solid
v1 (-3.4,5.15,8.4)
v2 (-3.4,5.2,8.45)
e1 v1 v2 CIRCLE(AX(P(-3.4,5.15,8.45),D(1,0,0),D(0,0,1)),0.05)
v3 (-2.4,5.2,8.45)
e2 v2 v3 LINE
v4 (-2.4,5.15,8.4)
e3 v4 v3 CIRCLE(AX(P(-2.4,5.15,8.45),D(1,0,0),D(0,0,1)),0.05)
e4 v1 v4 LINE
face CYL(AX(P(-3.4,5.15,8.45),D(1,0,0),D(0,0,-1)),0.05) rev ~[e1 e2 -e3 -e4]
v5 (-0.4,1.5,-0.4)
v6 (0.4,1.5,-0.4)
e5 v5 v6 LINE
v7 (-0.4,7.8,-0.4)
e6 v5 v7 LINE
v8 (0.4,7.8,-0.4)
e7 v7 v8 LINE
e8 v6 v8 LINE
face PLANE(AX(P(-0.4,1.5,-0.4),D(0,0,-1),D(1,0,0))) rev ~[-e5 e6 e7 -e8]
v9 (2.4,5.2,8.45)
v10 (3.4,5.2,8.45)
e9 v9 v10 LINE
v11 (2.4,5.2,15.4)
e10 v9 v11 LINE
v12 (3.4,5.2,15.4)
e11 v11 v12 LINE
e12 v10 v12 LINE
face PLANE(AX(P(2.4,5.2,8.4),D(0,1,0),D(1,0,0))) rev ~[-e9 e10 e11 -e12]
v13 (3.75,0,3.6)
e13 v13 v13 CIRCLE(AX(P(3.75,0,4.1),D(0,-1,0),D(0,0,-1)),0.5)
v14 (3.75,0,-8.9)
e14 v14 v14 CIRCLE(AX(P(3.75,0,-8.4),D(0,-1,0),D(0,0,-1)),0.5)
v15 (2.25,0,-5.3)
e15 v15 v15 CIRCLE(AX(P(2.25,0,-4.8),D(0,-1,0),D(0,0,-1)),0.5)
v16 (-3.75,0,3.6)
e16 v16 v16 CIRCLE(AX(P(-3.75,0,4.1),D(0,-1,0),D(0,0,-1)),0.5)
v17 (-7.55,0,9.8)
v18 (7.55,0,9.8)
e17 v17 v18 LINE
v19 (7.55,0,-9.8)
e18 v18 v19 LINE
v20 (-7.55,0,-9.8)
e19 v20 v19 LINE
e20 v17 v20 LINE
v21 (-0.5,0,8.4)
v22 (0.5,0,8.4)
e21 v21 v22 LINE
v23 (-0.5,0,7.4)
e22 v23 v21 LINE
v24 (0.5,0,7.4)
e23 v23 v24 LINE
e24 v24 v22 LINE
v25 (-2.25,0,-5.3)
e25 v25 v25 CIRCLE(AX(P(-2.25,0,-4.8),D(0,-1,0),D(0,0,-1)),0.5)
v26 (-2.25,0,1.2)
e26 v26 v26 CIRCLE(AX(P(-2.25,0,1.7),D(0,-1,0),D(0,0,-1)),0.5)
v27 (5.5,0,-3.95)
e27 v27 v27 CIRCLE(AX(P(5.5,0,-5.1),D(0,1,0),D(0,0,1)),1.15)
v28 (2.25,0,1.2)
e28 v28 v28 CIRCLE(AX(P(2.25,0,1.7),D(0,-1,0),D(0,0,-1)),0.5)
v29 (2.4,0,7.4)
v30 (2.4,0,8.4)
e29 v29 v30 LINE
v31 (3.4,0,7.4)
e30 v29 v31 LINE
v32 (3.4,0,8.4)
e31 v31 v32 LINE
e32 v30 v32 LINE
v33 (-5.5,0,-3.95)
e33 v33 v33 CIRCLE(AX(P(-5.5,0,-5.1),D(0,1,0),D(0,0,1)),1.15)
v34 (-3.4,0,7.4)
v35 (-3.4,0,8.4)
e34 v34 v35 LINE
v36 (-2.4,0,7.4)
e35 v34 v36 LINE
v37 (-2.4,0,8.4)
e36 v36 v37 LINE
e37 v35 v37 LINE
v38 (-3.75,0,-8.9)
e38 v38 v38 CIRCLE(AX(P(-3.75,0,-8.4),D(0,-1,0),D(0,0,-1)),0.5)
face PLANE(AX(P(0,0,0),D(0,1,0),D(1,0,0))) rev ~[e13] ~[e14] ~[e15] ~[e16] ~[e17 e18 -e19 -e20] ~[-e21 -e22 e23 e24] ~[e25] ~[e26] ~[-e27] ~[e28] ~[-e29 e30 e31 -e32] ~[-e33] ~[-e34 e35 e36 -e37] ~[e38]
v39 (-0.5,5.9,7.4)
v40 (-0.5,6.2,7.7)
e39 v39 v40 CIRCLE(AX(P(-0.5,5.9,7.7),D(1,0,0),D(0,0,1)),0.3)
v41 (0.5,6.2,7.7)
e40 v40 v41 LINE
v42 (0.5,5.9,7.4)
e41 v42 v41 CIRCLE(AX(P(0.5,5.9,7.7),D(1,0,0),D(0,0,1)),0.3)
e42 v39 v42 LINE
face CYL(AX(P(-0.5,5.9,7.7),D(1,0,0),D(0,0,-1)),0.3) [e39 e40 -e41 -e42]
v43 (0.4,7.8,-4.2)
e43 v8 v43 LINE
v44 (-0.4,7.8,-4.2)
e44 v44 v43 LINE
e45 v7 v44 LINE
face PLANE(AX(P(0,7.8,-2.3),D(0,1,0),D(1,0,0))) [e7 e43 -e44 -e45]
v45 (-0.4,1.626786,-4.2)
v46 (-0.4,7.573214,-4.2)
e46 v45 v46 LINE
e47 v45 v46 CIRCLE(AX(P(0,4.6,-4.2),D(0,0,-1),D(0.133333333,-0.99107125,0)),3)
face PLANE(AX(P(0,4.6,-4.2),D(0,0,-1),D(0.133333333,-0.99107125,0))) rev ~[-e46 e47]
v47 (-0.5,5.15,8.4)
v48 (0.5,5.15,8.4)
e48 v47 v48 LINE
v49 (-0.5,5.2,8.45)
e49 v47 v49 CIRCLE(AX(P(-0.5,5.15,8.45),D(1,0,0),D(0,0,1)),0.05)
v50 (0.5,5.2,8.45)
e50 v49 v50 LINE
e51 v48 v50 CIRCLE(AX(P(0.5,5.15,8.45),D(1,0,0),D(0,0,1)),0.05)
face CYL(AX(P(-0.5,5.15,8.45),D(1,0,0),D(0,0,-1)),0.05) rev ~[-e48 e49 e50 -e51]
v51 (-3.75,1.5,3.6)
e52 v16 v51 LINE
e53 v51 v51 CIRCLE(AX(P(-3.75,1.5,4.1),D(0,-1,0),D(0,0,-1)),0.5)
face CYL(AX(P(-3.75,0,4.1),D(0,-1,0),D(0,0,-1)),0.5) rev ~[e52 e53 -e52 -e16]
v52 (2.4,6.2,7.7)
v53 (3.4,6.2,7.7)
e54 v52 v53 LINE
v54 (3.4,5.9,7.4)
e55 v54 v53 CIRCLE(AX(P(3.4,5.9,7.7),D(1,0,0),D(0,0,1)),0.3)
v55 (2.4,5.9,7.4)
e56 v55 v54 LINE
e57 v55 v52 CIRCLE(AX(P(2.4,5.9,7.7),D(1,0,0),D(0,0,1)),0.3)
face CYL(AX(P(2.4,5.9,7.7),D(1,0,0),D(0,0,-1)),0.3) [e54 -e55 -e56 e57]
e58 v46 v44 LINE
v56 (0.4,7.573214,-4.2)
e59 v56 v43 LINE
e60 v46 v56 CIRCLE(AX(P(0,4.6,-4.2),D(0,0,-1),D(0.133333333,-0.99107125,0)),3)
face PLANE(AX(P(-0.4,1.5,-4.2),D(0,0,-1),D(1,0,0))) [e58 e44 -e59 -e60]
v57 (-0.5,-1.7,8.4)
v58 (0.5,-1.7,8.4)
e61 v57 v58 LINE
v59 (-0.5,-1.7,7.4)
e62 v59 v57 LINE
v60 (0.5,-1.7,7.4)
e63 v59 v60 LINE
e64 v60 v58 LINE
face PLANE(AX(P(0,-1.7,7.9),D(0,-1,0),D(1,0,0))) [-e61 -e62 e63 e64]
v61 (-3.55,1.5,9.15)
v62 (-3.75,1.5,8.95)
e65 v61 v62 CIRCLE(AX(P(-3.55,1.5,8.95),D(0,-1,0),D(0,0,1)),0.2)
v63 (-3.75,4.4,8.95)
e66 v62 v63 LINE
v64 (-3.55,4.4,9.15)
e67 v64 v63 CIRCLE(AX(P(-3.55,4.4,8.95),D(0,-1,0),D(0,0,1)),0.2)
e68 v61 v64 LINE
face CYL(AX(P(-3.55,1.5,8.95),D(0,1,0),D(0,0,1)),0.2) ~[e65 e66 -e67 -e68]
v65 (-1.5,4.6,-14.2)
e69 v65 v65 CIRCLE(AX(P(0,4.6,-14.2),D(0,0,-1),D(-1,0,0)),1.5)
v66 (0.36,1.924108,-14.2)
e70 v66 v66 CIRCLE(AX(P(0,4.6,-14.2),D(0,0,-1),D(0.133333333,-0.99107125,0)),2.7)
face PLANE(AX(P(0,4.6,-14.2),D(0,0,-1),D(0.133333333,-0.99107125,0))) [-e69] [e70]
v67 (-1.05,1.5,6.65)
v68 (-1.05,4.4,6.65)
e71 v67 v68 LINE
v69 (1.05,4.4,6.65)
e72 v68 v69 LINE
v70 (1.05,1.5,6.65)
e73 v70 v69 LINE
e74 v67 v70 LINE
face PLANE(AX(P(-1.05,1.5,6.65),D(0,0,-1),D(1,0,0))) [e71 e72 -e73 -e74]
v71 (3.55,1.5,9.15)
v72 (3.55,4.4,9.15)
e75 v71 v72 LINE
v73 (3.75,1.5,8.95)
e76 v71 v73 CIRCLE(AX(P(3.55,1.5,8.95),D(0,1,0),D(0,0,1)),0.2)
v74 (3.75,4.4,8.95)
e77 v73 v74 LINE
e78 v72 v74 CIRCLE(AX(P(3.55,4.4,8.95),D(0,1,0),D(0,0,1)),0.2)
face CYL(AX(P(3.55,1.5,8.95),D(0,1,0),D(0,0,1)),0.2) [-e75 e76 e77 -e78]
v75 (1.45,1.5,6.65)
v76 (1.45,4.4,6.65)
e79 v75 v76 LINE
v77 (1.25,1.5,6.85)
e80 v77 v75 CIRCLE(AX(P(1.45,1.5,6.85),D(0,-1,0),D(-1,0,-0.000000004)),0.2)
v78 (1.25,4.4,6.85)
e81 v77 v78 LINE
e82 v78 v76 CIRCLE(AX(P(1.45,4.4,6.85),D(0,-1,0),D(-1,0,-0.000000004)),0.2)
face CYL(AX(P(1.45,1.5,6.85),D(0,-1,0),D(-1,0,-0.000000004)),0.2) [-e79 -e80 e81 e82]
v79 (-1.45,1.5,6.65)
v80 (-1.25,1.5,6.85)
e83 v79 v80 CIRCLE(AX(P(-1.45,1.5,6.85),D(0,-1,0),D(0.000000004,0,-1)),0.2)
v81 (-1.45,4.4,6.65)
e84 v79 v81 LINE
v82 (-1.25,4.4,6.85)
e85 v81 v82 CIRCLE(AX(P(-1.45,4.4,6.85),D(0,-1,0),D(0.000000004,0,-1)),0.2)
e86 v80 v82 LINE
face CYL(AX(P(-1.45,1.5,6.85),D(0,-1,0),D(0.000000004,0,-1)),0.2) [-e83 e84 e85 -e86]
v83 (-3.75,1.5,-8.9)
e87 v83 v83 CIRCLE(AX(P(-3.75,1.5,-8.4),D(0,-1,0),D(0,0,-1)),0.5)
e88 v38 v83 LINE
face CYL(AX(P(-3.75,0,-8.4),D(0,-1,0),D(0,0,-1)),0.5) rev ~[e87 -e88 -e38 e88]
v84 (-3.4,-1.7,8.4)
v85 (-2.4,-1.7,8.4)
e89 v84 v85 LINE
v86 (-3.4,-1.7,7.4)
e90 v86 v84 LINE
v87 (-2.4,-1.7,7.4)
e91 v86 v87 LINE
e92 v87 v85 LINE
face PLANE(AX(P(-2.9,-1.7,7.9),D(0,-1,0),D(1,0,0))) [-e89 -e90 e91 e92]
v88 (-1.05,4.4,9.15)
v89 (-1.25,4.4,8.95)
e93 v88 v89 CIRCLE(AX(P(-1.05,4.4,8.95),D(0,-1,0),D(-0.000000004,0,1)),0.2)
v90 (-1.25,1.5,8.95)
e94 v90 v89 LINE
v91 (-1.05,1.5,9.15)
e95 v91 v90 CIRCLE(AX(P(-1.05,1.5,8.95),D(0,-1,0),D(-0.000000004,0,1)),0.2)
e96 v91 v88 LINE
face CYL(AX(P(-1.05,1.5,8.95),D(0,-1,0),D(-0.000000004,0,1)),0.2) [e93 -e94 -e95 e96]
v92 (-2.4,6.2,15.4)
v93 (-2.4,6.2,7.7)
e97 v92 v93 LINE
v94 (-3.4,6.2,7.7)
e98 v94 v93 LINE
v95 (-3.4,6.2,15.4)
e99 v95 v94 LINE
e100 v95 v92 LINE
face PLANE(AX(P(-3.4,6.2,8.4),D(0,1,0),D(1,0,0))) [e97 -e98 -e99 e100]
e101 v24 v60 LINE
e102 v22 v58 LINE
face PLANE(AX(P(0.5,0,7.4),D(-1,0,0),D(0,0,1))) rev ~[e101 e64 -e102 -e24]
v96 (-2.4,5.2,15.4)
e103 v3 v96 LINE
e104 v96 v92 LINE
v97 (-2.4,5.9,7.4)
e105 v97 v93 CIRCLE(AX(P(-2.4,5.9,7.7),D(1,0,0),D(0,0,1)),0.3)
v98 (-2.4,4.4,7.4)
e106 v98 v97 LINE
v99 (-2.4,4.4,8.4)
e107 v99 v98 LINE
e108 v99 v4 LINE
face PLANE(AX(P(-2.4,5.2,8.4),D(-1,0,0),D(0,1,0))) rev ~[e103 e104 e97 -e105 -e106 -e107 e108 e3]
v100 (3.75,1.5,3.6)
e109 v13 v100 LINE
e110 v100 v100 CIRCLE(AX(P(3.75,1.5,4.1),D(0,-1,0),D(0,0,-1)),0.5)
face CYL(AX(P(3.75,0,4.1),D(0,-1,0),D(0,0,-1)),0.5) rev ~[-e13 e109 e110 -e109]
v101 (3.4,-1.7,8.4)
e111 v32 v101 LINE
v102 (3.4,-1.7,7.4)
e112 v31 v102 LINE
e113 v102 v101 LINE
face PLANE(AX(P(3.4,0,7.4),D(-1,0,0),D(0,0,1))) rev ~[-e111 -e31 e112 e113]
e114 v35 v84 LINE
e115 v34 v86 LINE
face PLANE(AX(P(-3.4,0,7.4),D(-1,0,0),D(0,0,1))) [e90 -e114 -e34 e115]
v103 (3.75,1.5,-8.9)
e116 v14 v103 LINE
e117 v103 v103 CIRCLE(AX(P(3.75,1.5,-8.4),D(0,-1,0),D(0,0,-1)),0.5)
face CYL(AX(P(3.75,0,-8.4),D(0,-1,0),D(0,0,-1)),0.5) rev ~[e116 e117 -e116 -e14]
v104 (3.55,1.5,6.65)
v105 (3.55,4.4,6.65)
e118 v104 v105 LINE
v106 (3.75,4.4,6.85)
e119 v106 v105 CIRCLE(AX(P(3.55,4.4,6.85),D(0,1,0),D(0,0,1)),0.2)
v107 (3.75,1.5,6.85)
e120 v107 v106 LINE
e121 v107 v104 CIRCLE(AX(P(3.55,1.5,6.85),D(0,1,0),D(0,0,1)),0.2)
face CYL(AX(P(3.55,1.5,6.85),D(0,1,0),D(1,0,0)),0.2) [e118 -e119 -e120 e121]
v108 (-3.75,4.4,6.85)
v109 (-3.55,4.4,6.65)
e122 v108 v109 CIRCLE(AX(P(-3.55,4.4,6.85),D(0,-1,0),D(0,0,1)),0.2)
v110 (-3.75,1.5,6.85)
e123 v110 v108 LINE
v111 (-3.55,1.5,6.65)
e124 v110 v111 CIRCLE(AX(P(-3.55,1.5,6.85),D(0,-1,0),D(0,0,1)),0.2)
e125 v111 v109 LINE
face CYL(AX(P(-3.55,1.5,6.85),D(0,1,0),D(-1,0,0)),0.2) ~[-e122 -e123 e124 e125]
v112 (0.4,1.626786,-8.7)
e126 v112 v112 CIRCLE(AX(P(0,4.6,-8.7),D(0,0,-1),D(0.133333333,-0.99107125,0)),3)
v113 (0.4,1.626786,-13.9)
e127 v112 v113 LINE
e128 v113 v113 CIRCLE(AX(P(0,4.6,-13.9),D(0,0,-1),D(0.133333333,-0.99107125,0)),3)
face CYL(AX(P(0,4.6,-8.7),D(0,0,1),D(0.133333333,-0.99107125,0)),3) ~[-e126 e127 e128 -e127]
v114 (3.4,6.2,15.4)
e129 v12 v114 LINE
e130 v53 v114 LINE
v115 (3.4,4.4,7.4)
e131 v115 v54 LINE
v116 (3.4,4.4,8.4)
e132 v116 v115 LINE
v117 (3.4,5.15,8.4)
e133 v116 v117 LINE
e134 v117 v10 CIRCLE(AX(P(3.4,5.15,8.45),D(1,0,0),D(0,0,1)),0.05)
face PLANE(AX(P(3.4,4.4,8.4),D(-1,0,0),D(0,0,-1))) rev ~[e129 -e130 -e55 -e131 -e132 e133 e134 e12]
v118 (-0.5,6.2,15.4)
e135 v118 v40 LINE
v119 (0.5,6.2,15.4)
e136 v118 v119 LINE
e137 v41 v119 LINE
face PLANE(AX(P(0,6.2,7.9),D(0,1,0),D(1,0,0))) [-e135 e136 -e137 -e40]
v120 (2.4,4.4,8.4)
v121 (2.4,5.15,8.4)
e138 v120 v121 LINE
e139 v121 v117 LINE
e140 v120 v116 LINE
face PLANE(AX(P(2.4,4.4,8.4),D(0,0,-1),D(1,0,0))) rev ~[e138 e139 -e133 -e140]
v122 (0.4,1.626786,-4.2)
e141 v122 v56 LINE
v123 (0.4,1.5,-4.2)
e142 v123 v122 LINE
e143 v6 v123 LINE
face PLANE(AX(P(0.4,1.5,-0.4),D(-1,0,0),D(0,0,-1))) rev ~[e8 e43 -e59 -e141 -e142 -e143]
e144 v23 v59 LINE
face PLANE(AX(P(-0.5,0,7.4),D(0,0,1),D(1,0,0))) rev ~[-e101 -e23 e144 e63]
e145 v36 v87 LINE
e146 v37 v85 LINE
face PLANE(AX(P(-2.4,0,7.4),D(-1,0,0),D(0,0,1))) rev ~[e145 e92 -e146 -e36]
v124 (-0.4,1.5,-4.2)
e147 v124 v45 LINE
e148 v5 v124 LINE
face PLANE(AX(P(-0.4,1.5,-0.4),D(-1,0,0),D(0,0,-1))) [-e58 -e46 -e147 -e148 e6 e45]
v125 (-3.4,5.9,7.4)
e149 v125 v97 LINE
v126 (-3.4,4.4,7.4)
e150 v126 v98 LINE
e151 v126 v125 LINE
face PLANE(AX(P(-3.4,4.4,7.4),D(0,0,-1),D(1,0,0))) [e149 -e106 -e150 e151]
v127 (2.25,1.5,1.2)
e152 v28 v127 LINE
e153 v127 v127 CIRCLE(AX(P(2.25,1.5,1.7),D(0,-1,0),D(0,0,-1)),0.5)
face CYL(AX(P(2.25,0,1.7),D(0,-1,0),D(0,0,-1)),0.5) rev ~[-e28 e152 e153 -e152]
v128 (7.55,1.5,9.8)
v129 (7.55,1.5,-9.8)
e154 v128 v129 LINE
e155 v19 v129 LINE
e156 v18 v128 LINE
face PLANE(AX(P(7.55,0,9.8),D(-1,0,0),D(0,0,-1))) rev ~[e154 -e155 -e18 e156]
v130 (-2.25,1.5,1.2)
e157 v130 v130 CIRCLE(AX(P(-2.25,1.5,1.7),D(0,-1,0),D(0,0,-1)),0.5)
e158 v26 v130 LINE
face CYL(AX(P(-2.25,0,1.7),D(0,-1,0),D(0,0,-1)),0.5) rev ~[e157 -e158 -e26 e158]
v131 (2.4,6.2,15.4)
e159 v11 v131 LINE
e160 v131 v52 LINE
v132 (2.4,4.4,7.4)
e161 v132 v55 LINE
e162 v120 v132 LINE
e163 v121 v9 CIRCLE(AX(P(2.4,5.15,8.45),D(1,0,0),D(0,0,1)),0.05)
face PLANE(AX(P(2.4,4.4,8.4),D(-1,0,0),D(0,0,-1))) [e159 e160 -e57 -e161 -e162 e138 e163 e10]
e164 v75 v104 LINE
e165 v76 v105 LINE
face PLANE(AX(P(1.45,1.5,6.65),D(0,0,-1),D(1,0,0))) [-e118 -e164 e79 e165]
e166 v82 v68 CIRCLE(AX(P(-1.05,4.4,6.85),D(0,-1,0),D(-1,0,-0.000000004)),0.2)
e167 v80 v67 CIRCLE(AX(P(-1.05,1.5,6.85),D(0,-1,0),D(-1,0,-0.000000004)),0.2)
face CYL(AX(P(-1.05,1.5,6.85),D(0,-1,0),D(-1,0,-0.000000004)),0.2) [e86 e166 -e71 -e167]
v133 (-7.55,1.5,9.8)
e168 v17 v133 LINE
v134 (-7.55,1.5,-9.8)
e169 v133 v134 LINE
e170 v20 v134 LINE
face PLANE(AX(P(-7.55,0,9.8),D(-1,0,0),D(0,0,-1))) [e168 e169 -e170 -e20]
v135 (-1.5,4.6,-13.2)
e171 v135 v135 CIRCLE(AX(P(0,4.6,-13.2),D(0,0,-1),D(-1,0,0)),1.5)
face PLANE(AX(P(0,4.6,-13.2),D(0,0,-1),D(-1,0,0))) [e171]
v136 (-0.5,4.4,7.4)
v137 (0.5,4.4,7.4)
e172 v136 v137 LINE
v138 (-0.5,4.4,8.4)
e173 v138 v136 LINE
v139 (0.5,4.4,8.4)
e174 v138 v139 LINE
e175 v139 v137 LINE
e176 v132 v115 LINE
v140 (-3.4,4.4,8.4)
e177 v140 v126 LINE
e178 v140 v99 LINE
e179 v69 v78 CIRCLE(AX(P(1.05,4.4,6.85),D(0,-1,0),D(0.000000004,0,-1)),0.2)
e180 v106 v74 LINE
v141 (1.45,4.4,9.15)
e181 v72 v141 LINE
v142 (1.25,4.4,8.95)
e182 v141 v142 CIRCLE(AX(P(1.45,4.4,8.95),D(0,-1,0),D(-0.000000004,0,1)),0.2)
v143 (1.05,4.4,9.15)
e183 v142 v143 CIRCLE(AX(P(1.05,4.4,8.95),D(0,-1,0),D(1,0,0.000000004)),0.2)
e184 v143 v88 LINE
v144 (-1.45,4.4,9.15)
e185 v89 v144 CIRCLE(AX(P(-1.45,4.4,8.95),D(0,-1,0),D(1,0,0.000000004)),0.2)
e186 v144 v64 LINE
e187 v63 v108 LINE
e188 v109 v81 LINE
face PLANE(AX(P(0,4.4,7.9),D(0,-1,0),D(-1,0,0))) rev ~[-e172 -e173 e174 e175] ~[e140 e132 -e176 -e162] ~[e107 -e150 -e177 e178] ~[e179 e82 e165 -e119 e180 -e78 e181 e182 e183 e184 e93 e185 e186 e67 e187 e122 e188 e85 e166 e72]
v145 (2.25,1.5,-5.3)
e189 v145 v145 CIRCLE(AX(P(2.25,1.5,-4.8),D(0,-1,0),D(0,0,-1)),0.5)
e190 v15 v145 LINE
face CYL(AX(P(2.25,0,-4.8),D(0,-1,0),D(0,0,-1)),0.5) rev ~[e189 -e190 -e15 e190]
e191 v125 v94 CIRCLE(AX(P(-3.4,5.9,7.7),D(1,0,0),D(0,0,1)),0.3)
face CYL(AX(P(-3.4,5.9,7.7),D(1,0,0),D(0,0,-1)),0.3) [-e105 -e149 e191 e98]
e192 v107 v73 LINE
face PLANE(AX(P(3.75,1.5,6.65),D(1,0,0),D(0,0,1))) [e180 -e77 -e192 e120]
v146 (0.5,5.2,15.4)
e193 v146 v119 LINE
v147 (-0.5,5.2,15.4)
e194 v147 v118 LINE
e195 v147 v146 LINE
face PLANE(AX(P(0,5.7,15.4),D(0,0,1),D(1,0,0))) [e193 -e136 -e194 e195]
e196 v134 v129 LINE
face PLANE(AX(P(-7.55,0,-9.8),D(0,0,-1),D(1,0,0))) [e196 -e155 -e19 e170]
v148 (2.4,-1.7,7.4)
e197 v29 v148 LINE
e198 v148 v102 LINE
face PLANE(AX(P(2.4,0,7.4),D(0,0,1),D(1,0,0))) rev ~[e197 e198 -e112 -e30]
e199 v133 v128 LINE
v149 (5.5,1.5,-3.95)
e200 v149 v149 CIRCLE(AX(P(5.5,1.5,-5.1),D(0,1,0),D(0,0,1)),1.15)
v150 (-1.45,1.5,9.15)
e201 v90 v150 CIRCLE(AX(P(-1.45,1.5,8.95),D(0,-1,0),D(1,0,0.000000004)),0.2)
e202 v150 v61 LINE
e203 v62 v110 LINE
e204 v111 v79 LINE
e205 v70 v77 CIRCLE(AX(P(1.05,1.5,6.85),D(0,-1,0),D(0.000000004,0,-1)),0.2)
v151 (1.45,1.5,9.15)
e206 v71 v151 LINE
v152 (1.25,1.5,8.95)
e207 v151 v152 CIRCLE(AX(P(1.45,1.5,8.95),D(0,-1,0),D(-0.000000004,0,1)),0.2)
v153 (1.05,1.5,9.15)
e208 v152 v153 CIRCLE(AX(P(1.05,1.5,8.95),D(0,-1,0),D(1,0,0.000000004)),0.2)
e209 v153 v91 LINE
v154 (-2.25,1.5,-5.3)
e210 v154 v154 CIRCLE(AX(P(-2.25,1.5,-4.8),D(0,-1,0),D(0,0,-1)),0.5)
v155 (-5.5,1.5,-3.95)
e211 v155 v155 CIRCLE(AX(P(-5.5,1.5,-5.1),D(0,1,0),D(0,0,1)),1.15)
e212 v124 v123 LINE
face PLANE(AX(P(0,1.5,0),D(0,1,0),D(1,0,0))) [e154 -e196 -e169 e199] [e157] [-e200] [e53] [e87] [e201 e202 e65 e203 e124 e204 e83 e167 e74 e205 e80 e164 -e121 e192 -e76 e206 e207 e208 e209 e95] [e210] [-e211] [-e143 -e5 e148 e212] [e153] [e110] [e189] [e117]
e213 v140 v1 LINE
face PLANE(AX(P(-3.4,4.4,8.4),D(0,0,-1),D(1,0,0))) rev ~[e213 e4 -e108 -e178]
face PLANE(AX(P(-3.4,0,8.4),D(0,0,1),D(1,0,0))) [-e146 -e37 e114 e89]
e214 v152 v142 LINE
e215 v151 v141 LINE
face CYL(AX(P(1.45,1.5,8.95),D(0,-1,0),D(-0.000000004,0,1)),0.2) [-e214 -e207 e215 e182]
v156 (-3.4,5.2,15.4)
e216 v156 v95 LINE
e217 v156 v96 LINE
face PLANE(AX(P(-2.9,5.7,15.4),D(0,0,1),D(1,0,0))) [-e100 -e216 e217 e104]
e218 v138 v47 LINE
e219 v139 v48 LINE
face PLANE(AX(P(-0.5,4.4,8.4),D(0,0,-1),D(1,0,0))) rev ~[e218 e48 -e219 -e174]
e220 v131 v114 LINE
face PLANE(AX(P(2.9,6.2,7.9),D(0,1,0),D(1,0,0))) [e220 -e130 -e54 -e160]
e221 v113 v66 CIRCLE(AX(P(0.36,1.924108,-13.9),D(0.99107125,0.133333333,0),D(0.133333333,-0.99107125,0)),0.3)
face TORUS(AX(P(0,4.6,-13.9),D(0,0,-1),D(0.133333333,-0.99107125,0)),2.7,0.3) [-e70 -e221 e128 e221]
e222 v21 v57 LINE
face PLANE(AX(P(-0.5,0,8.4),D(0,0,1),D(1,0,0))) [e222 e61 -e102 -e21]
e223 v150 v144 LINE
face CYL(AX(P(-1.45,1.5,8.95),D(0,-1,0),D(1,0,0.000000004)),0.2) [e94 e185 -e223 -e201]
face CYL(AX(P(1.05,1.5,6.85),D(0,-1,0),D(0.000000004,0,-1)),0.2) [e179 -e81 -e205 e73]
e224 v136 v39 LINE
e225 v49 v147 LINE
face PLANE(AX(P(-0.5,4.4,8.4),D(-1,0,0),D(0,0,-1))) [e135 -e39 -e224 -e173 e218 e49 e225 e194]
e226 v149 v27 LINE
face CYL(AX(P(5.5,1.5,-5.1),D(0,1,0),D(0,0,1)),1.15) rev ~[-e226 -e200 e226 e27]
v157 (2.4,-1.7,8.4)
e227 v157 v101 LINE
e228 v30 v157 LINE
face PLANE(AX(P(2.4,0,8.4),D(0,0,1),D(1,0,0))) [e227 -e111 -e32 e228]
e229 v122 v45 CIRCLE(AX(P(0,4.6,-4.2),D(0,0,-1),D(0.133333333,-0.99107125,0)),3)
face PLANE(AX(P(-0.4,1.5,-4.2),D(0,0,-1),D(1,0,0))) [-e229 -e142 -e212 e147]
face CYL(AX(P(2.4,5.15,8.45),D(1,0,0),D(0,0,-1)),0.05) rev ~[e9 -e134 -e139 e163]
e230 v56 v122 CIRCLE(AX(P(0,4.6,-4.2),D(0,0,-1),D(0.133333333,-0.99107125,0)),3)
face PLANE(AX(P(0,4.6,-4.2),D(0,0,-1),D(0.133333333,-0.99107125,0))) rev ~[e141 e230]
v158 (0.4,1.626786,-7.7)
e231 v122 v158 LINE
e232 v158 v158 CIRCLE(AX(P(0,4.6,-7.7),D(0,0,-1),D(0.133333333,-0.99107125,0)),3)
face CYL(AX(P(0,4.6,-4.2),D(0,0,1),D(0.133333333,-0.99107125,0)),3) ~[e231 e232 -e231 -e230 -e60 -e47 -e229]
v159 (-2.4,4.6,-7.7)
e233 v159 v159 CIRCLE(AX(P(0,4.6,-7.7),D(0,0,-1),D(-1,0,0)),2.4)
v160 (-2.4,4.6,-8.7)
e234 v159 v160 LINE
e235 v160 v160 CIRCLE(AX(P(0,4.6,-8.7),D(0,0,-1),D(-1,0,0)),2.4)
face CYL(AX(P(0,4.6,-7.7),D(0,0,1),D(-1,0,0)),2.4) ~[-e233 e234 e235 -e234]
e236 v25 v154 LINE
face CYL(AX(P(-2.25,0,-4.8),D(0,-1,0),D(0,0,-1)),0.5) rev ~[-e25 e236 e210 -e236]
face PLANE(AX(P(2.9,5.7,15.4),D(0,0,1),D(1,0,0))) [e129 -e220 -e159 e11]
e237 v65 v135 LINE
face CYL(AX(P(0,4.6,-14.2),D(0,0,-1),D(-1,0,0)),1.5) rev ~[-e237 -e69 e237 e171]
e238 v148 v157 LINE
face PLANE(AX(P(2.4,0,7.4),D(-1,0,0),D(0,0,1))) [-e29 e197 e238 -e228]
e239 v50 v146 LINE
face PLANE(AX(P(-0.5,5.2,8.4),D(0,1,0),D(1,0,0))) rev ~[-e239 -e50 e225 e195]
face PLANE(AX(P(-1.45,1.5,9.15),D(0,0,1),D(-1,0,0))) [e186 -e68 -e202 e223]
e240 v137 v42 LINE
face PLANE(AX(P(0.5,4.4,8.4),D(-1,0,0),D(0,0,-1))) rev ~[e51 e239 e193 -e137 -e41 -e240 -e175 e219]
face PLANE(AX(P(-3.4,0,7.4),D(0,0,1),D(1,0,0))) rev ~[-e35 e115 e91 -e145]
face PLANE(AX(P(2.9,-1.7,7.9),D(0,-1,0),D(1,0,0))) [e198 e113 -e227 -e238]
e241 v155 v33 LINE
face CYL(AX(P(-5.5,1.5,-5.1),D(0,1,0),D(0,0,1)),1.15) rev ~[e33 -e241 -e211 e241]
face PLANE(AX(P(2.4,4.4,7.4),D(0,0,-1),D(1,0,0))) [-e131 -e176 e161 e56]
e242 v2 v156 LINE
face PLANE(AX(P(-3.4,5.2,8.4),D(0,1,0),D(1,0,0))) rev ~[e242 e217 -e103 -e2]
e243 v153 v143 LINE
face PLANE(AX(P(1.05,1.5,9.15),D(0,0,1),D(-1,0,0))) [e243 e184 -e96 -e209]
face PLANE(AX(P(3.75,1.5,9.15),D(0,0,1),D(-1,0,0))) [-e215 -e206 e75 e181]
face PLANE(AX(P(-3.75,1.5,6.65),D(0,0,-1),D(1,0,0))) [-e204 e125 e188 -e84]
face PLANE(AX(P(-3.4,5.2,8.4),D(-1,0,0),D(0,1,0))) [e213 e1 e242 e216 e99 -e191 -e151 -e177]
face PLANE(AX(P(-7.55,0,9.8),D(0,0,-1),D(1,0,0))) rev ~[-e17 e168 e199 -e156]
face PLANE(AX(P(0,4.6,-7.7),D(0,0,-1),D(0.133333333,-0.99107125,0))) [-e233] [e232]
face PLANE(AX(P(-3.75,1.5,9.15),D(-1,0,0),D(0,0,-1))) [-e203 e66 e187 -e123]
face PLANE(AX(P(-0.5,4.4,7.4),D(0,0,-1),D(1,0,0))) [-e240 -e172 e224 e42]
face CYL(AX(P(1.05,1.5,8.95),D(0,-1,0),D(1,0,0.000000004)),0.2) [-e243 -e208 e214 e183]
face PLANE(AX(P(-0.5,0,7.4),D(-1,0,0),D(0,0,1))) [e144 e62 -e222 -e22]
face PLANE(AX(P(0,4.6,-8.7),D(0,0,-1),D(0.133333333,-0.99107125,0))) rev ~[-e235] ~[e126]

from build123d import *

# Parameters (mm, degrees)
SKETCH1_W           = 15.1
SKETCH1_H           = 19.6
BOSS_EXTRUDE1_DEPTH = 1.5
SKETCH2_W           = 1
SKETCH2_H           = 1
BOSS_EXTRUDE2_DEPTH = 1.7
BOSS_EXTRUDE3_DEPTH = 2.9
SKETCH4_W           = 1
SKETCH4_H           = 1
BOSS_EXTRUDE4_DEPTH = 1.8
SKETCH5_W           = 1
SKETCH5_H           = 1
BOSS_EXTRUDE5_DEPTH = 7
SKETCH7_W           = 0.8
SKETCH7_H           = 3.8
BOSS_EXTRUDE6_DEPTH = 6.3
SKETCH8_R           = 3
BOSS_EXTRUDE7_DEPTH = 3.5
SKETCH9_R           = 2.4
BOSS_EXTRUDE8_DEPTH = 1
SKETCH10_R          = 3
BOSS_EXTRUDE9_DEPTH = 5.5
FILLET1_R           = 0.3
SKETCH11_R          = 1.5
CUT_EXTRUDE1_DEPTH  = 1
SKETCH12_R          = 1.15
CUT_EXTRUDE2_DEPTH  = 19.271631016
CUT_EXTRUDE3_REACH  = 20.842
SKETCH13_R          = 0.5
CUT_EXTRUDE4_REACH  = 20.842
SKETCH14_R          = 0.5
FILLET2_R           = 0.2
FILLET3_R           = 0.05
FILLET5_R           = 0.3


with BuildPart() as part:
    # Sketch1 → Boss-Extrude1 (new body)
    with BuildSketch(Plane(origin=(0, 0, 0), x_dir=(1, 0, 0), z_dir=(0, 1, 0))):
        Rectangle(SKETCH1_W, SKETCH1_H)
    extrude(amount=BOSS_EXTRUDE1_DEPTH)

    # Sketch2 → Boss-Extrude2 (add)
    with BuildSketch(Plane.XZ):
        with Locations((0, 7.9)):
            Rectangle(SKETCH2_W, SKETCH2_H)
        with Locations((2.9, 7.9)):
            Rectangle(SKETCH2_W, SKETCH2_H)
        with Locations((-2.9, 7.9)):
            Rectangle(SKETCH2_W, SKETCH2_H)
    extrude(amount=BOSS_EXTRUDE2_DEPTH)

    # Sketch3 → Boss-Extrude3 (add)
    with BuildSketch(Plane(origin=(0, 1.5, 0), x_dir=(1, 0, 0), z_dir=(0, 1, 0))):
        with BuildLine():
            Line((-3.75, -9.15), (-3.75, -6.65))
            Line((-3.75, -6.65), (-1.45, -6.65))
            ThreePointArc((-1.45, -6.65), (-1.308578644, -6.708578644), (-1.25, -6.85))
            ThreePointArc((-1.25, -6.85), (-1.191421356, -6.708578644), (-1.05, -6.65))
            Line((-1.05, -6.65), (1.05, -6.65))
            ThreePointArc((1.05, -6.65), (1.191421356, -6.708578644), (1.25, -6.85))
            ThreePointArc((1.25, -6.85), (1.308578644, -6.708578644), (1.45, -6.65))
            Line((1.45, -6.65), (3.75, -6.65))
            Line((3.75, -6.65), (3.75, -9.15))
            Line((3.75, -9.15), (1.45, -9.15))
            ThreePointArc((1.45, -9.15), (1.308578644, -9.091421356), (1.25, -8.95))
            ThreePointArc((1.25, -8.95), (1.191421356, -9.091421356), (1.05, -9.15))
            Line((1.05, -9.15), (-1.05, -9.15))
            ThreePointArc((-1.05, -9.15), (-1.191421356, -9.091421356), (-1.25, -8.95))
            ThreePointArc((-1.25, -8.95), (-1.308578644, -9.091421356), (-1.45, -9.15))
            Line((-1.45, -9.15), (-3.75, -9.15))
        make_face()
    extrude(amount=BOSS_EXTRUDE3_DEPTH)

    # Sketch4 → Boss-Extrude4 (add)
    with BuildSketch(Plane(origin=(0, 4.4, 0), x_dir=(1, 0, 0), z_dir=(0, 1, 0))):
        with Locations((-2.9, -7.9)):
            Rectangle(SKETCH4_W, SKETCH4_H)
        with Locations((0, -7.9)):
            Rectangle(SKETCH4_W, SKETCH4_H)
        with Locations((2.9, -7.9)):
            Rectangle(SKETCH4_W, SKETCH4_H)
    extrude(amount=BOSS_EXTRUDE4_DEPTH)

    # Sketch5 → Boss-Extrude5 (add)
    with BuildSketch(Plane.XY.offset(8.4)):
        with Locations((-2.9, 5.7)):
            Rectangle(SKETCH5_W, SKETCH5_H)
        with Locations((0, 5.7)):
            Rectangle(SKETCH5_W, SKETCH5_H)
        with Locations((2.9, 5.7)):
            Rectangle(SKETCH5_W, SKETCH5_H)
    extrude(amount=BOSS_EXTRUDE5_DEPTH)

    # Sketch7 → Boss-Extrude6 (add)
    with BuildSketch(Plane(origin=(0, 1.5, 0), x_dir=(1, 0, 0), z_dir=(0, 1, 0))):
        with Locations((0, 2.3)):
            Rectangle(SKETCH7_W, SKETCH7_H)
    extrude(amount=BOSS_EXTRUDE6_DEPTH)

    # Sketch8 → Boss-Extrude7 (add)
    with BuildSketch(Plane(origin=(0, 0, -4.2), x_dir=(-1, 0, 0), z_dir=(0, 0, -1))):
        with Locations(Location((0, 4.6, 0), (0, 0, 262.337744339))):
            Circle(SKETCH8_R)
    extrude(amount=BOSS_EXTRUDE7_DEPTH)

    # Sketch9 → Boss-Extrude8 (add)
    with BuildSketch(Plane(origin=(0, 0, -7.7), x_dir=(-1, 0, 0), z_dir=(0, 0, -1))):
        with Locations((0, 4.6)):
            Circle(SKETCH9_R)
    extrude(amount=BOSS_EXTRUDE8_DEPTH)

    # Sketch10 → Boss-Extrude9 (add)
    with BuildSketch(Plane(origin=(0, 0, -8.7), x_dir=(-1, 0, 0), z_dir=(0, 0, -1))):
        with Locations(Location((0, 4.6, 0), (0, 0, 262.337744339))):
            Circle(SKETCH10_R)
    extrude(amount=BOSS_EXTRUDE9_DEPTH)

    # Fillet1
    fillet1_edges = [part.edges().sort_by_distance(p)[0] for p in [
        (-0.4, 7.573213749, -14.2),
    ]]
    fillet(fillet1_edges, radius=FILLET1_R)

    # Sketch11 → Cut-Extrude1 (cut)
    with BuildSketch(Plane(origin=(0, 0, -14.2), x_dir=(-1, 0, 0), z_dir=(0, 0, -1))):
        with Locations((0, 4.6)):
            Circle(SKETCH11_R)
    extrude(amount=-CUT_EXTRUDE1_DEPTH, mode=Mode.SUBTRACT)

    # Sketch12 → Cut-Extrude2 (cut, through all)
    with BuildSketch(Plane(origin=(0, 1.5, 0), x_dir=(1, 0, 0), z_dir=(0, 1, 0))):
        with Locations(Location((-5.5, 5.1, 0), (0, 0, 270))):
            Circle(SKETCH12_R)
        with Locations(Location((5.5, 5.1, 0), (0, 0, 270))):
            Circle(SKETCH12_R)
    extrude(amount=-CUT_EXTRUDE2_DEPTH, mode=Mode.SUBTRACT)

    # Sketch13 → Cut-Extrude3 (cut, up to next)
    with BuildSketch(Plane.XZ, mode=Mode.PRIVATE) as cut_extrude3_sk1:
        with Locations(Location((-2.25, -4.8, 0), (0, 0, 270))):
            Circle(SKETCH13_R)
    cut_extrude3_tool1 = extrude(cut_extrude3_sk1.sketch, amount=-CUT_EXTRUDE3_REACH, mode=Mode.PRIVATE) & part.part
    # Sketch13 → Cut-Extrude3 (cut, up to next)
    with BuildSketch(Plane.XZ, mode=Mode.PRIVATE) as cut_extrude3_sk2:
        with Locations(Location((2.25, -4.8, 0), (0, 0, 270))):
            Circle(SKETCH13_R)
    cut_extrude3_tool2 = extrude(cut_extrude3_sk2.sketch, amount=-CUT_EXTRUDE3_REACH, mode=Mode.PRIVATE) & part.part
    # Sketch13 → Cut-Extrude3 (cut, up to next)
    with BuildSketch(Plane.XZ, mode=Mode.PRIVATE) as cut_extrude3_sk3:
        with Locations(Location((2.25, 1.7, 0), (0, 0, 270))):
            Circle(SKETCH13_R)
    cut_extrude3_tool3 = extrude(cut_extrude3_sk3.sketch, amount=-CUT_EXTRUDE3_REACH, mode=Mode.PRIVATE) & part.part
    # Sketch13 → Cut-Extrude3 (cut, up to next)
    with BuildSketch(Plane.XZ, mode=Mode.PRIVATE) as cut_extrude3_sk4:
        with Locations(Location((-2.25, 1.7, 0), (0, 0, 270))):
            Circle(SKETCH13_R)
    cut_extrude3_tool4 = extrude(cut_extrude3_sk4.sketch, amount=-CUT_EXTRUDE3_REACH, mode=Mode.PRIVATE) & part.part
    add(cut_extrude3_tool1.solids().sort_by_distance((-2.25, 0, -4.8))[0], mode=Mode.SUBTRACT)
    add(cut_extrude3_tool2.solids().sort_by_distance((2.25, 0, -4.8))[0], mode=Mode.SUBTRACT)
    add(cut_extrude3_tool3.solids().sort_by_distance((2.25, 0, 1.7))[0], mode=Mode.SUBTRACT)
    add(cut_extrude3_tool4.solids().sort_by_distance((-2.25, 0, 1.7))[0], mode=Mode.SUBTRACT)

    # Sketch14 → Cut-Extrude4 (cut, up to next)
    with BuildSketch(Plane.XZ, mode=Mode.PRIVATE) as cut_extrude4_sk1:
        with Locations(Location((3.75, 4.1, 0), (0, 0, 270))):
            Circle(SKETCH14_R)
    cut_extrude4_tool1 = extrude(cut_extrude4_sk1.sketch, amount=-CUT_EXTRUDE4_REACH, mode=Mode.PRIVATE) & part.part
    # Sketch14 → Cut-Extrude4 (cut, up to next)
    with BuildSketch(Plane.XZ, mode=Mode.PRIVATE) as cut_extrude4_sk2:
        with Locations(Location((-3.75, 4.1, 0), (0, 0, 270))):
            Circle(SKETCH14_R)
    cut_extrude4_tool2 = extrude(cut_extrude4_sk2.sketch, amount=-CUT_EXTRUDE4_REACH, mode=Mode.PRIVATE) & part.part
    # Sketch14 → Cut-Extrude4 (cut, up to next)
    with BuildSketch(Plane.XZ, mode=Mode.PRIVATE) as cut_extrude4_sk3:
        with Locations(Location((-3.75, -8.4, 0), (0, 0, 270))):
            Circle(SKETCH14_R)
    cut_extrude4_tool3 = extrude(cut_extrude4_sk3.sketch, amount=-CUT_EXTRUDE4_REACH, mode=Mode.PRIVATE) & part.part
    # Sketch14 → Cut-Extrude4 (cut, up to next)
    with BuildSketch(Plane.XZ, mode=Mode.PRIVATE) as cut_extrude4_sk4:
        with Locations(Location((3.75, -8.4, 0), (0, 0, 270))):
            Circle(SKETCH14_R)
    cut_extrude4_tool4 = extrude(cut_extrude4_sk4.sketch, amount=-CUT_EXTRUDE4_REACH, mode=Mode.PRIVATE) & part.part
    add(cut_extrude4_tool1.solids().sort_by_distance((3.75, 0, 4.1))[0], mode=Mode.SUBTRACT)
    add(cut_extrude4_tool2.solids().sort_by_distance((-3.75, 0, 4.1))[0], mode=Mode.SUBTRACT)
    add(cut_extrude4_tool3.solids().sort_by_distance((-3.75, 0, -8.4))[0], mode=Mode.SUBTRACT)
    add(cut_extrude4_tool4.solids().sort_by_distance((3.75, 0, -8.4))[0], mode=Mode.SUBTRACT)

    # Fillet2
    fillet2_edges = [part.edges().sort_by_distance(p)[0] for p in [
        (-3.75, 2.95, 9.15),
        (3.75, 2.95, 9.15),
        (3.75, 2.95, 6.65),
        (-3.75, 2.95, 6.65),
    ]]
    fillet(fillet2_edges, radius=FILLET2_R)

    # Fillet3
    fillet3_edges = [part.edges().sort_by_distance(p)[0] for p in [
        (-2.9, 5.2, 8.4),
        (0, 5.2, 8.4),
        (2.9, 5.2, 8.4),
    ]]
    fillet(fillet3_edges, radius=FILLET3_R)

    # Fillet5
    fillet5_edges = [part.edges().sort_by_distance(p)[0] for p in [
        (-2.9, 6.2, 7.4),
        (0, 6.2, 7.4),
        (2.9, 6.2, 7.4),
    ]]
    fillet(fillet5_edges, radius=FILLET5_R)


solid = part.part
